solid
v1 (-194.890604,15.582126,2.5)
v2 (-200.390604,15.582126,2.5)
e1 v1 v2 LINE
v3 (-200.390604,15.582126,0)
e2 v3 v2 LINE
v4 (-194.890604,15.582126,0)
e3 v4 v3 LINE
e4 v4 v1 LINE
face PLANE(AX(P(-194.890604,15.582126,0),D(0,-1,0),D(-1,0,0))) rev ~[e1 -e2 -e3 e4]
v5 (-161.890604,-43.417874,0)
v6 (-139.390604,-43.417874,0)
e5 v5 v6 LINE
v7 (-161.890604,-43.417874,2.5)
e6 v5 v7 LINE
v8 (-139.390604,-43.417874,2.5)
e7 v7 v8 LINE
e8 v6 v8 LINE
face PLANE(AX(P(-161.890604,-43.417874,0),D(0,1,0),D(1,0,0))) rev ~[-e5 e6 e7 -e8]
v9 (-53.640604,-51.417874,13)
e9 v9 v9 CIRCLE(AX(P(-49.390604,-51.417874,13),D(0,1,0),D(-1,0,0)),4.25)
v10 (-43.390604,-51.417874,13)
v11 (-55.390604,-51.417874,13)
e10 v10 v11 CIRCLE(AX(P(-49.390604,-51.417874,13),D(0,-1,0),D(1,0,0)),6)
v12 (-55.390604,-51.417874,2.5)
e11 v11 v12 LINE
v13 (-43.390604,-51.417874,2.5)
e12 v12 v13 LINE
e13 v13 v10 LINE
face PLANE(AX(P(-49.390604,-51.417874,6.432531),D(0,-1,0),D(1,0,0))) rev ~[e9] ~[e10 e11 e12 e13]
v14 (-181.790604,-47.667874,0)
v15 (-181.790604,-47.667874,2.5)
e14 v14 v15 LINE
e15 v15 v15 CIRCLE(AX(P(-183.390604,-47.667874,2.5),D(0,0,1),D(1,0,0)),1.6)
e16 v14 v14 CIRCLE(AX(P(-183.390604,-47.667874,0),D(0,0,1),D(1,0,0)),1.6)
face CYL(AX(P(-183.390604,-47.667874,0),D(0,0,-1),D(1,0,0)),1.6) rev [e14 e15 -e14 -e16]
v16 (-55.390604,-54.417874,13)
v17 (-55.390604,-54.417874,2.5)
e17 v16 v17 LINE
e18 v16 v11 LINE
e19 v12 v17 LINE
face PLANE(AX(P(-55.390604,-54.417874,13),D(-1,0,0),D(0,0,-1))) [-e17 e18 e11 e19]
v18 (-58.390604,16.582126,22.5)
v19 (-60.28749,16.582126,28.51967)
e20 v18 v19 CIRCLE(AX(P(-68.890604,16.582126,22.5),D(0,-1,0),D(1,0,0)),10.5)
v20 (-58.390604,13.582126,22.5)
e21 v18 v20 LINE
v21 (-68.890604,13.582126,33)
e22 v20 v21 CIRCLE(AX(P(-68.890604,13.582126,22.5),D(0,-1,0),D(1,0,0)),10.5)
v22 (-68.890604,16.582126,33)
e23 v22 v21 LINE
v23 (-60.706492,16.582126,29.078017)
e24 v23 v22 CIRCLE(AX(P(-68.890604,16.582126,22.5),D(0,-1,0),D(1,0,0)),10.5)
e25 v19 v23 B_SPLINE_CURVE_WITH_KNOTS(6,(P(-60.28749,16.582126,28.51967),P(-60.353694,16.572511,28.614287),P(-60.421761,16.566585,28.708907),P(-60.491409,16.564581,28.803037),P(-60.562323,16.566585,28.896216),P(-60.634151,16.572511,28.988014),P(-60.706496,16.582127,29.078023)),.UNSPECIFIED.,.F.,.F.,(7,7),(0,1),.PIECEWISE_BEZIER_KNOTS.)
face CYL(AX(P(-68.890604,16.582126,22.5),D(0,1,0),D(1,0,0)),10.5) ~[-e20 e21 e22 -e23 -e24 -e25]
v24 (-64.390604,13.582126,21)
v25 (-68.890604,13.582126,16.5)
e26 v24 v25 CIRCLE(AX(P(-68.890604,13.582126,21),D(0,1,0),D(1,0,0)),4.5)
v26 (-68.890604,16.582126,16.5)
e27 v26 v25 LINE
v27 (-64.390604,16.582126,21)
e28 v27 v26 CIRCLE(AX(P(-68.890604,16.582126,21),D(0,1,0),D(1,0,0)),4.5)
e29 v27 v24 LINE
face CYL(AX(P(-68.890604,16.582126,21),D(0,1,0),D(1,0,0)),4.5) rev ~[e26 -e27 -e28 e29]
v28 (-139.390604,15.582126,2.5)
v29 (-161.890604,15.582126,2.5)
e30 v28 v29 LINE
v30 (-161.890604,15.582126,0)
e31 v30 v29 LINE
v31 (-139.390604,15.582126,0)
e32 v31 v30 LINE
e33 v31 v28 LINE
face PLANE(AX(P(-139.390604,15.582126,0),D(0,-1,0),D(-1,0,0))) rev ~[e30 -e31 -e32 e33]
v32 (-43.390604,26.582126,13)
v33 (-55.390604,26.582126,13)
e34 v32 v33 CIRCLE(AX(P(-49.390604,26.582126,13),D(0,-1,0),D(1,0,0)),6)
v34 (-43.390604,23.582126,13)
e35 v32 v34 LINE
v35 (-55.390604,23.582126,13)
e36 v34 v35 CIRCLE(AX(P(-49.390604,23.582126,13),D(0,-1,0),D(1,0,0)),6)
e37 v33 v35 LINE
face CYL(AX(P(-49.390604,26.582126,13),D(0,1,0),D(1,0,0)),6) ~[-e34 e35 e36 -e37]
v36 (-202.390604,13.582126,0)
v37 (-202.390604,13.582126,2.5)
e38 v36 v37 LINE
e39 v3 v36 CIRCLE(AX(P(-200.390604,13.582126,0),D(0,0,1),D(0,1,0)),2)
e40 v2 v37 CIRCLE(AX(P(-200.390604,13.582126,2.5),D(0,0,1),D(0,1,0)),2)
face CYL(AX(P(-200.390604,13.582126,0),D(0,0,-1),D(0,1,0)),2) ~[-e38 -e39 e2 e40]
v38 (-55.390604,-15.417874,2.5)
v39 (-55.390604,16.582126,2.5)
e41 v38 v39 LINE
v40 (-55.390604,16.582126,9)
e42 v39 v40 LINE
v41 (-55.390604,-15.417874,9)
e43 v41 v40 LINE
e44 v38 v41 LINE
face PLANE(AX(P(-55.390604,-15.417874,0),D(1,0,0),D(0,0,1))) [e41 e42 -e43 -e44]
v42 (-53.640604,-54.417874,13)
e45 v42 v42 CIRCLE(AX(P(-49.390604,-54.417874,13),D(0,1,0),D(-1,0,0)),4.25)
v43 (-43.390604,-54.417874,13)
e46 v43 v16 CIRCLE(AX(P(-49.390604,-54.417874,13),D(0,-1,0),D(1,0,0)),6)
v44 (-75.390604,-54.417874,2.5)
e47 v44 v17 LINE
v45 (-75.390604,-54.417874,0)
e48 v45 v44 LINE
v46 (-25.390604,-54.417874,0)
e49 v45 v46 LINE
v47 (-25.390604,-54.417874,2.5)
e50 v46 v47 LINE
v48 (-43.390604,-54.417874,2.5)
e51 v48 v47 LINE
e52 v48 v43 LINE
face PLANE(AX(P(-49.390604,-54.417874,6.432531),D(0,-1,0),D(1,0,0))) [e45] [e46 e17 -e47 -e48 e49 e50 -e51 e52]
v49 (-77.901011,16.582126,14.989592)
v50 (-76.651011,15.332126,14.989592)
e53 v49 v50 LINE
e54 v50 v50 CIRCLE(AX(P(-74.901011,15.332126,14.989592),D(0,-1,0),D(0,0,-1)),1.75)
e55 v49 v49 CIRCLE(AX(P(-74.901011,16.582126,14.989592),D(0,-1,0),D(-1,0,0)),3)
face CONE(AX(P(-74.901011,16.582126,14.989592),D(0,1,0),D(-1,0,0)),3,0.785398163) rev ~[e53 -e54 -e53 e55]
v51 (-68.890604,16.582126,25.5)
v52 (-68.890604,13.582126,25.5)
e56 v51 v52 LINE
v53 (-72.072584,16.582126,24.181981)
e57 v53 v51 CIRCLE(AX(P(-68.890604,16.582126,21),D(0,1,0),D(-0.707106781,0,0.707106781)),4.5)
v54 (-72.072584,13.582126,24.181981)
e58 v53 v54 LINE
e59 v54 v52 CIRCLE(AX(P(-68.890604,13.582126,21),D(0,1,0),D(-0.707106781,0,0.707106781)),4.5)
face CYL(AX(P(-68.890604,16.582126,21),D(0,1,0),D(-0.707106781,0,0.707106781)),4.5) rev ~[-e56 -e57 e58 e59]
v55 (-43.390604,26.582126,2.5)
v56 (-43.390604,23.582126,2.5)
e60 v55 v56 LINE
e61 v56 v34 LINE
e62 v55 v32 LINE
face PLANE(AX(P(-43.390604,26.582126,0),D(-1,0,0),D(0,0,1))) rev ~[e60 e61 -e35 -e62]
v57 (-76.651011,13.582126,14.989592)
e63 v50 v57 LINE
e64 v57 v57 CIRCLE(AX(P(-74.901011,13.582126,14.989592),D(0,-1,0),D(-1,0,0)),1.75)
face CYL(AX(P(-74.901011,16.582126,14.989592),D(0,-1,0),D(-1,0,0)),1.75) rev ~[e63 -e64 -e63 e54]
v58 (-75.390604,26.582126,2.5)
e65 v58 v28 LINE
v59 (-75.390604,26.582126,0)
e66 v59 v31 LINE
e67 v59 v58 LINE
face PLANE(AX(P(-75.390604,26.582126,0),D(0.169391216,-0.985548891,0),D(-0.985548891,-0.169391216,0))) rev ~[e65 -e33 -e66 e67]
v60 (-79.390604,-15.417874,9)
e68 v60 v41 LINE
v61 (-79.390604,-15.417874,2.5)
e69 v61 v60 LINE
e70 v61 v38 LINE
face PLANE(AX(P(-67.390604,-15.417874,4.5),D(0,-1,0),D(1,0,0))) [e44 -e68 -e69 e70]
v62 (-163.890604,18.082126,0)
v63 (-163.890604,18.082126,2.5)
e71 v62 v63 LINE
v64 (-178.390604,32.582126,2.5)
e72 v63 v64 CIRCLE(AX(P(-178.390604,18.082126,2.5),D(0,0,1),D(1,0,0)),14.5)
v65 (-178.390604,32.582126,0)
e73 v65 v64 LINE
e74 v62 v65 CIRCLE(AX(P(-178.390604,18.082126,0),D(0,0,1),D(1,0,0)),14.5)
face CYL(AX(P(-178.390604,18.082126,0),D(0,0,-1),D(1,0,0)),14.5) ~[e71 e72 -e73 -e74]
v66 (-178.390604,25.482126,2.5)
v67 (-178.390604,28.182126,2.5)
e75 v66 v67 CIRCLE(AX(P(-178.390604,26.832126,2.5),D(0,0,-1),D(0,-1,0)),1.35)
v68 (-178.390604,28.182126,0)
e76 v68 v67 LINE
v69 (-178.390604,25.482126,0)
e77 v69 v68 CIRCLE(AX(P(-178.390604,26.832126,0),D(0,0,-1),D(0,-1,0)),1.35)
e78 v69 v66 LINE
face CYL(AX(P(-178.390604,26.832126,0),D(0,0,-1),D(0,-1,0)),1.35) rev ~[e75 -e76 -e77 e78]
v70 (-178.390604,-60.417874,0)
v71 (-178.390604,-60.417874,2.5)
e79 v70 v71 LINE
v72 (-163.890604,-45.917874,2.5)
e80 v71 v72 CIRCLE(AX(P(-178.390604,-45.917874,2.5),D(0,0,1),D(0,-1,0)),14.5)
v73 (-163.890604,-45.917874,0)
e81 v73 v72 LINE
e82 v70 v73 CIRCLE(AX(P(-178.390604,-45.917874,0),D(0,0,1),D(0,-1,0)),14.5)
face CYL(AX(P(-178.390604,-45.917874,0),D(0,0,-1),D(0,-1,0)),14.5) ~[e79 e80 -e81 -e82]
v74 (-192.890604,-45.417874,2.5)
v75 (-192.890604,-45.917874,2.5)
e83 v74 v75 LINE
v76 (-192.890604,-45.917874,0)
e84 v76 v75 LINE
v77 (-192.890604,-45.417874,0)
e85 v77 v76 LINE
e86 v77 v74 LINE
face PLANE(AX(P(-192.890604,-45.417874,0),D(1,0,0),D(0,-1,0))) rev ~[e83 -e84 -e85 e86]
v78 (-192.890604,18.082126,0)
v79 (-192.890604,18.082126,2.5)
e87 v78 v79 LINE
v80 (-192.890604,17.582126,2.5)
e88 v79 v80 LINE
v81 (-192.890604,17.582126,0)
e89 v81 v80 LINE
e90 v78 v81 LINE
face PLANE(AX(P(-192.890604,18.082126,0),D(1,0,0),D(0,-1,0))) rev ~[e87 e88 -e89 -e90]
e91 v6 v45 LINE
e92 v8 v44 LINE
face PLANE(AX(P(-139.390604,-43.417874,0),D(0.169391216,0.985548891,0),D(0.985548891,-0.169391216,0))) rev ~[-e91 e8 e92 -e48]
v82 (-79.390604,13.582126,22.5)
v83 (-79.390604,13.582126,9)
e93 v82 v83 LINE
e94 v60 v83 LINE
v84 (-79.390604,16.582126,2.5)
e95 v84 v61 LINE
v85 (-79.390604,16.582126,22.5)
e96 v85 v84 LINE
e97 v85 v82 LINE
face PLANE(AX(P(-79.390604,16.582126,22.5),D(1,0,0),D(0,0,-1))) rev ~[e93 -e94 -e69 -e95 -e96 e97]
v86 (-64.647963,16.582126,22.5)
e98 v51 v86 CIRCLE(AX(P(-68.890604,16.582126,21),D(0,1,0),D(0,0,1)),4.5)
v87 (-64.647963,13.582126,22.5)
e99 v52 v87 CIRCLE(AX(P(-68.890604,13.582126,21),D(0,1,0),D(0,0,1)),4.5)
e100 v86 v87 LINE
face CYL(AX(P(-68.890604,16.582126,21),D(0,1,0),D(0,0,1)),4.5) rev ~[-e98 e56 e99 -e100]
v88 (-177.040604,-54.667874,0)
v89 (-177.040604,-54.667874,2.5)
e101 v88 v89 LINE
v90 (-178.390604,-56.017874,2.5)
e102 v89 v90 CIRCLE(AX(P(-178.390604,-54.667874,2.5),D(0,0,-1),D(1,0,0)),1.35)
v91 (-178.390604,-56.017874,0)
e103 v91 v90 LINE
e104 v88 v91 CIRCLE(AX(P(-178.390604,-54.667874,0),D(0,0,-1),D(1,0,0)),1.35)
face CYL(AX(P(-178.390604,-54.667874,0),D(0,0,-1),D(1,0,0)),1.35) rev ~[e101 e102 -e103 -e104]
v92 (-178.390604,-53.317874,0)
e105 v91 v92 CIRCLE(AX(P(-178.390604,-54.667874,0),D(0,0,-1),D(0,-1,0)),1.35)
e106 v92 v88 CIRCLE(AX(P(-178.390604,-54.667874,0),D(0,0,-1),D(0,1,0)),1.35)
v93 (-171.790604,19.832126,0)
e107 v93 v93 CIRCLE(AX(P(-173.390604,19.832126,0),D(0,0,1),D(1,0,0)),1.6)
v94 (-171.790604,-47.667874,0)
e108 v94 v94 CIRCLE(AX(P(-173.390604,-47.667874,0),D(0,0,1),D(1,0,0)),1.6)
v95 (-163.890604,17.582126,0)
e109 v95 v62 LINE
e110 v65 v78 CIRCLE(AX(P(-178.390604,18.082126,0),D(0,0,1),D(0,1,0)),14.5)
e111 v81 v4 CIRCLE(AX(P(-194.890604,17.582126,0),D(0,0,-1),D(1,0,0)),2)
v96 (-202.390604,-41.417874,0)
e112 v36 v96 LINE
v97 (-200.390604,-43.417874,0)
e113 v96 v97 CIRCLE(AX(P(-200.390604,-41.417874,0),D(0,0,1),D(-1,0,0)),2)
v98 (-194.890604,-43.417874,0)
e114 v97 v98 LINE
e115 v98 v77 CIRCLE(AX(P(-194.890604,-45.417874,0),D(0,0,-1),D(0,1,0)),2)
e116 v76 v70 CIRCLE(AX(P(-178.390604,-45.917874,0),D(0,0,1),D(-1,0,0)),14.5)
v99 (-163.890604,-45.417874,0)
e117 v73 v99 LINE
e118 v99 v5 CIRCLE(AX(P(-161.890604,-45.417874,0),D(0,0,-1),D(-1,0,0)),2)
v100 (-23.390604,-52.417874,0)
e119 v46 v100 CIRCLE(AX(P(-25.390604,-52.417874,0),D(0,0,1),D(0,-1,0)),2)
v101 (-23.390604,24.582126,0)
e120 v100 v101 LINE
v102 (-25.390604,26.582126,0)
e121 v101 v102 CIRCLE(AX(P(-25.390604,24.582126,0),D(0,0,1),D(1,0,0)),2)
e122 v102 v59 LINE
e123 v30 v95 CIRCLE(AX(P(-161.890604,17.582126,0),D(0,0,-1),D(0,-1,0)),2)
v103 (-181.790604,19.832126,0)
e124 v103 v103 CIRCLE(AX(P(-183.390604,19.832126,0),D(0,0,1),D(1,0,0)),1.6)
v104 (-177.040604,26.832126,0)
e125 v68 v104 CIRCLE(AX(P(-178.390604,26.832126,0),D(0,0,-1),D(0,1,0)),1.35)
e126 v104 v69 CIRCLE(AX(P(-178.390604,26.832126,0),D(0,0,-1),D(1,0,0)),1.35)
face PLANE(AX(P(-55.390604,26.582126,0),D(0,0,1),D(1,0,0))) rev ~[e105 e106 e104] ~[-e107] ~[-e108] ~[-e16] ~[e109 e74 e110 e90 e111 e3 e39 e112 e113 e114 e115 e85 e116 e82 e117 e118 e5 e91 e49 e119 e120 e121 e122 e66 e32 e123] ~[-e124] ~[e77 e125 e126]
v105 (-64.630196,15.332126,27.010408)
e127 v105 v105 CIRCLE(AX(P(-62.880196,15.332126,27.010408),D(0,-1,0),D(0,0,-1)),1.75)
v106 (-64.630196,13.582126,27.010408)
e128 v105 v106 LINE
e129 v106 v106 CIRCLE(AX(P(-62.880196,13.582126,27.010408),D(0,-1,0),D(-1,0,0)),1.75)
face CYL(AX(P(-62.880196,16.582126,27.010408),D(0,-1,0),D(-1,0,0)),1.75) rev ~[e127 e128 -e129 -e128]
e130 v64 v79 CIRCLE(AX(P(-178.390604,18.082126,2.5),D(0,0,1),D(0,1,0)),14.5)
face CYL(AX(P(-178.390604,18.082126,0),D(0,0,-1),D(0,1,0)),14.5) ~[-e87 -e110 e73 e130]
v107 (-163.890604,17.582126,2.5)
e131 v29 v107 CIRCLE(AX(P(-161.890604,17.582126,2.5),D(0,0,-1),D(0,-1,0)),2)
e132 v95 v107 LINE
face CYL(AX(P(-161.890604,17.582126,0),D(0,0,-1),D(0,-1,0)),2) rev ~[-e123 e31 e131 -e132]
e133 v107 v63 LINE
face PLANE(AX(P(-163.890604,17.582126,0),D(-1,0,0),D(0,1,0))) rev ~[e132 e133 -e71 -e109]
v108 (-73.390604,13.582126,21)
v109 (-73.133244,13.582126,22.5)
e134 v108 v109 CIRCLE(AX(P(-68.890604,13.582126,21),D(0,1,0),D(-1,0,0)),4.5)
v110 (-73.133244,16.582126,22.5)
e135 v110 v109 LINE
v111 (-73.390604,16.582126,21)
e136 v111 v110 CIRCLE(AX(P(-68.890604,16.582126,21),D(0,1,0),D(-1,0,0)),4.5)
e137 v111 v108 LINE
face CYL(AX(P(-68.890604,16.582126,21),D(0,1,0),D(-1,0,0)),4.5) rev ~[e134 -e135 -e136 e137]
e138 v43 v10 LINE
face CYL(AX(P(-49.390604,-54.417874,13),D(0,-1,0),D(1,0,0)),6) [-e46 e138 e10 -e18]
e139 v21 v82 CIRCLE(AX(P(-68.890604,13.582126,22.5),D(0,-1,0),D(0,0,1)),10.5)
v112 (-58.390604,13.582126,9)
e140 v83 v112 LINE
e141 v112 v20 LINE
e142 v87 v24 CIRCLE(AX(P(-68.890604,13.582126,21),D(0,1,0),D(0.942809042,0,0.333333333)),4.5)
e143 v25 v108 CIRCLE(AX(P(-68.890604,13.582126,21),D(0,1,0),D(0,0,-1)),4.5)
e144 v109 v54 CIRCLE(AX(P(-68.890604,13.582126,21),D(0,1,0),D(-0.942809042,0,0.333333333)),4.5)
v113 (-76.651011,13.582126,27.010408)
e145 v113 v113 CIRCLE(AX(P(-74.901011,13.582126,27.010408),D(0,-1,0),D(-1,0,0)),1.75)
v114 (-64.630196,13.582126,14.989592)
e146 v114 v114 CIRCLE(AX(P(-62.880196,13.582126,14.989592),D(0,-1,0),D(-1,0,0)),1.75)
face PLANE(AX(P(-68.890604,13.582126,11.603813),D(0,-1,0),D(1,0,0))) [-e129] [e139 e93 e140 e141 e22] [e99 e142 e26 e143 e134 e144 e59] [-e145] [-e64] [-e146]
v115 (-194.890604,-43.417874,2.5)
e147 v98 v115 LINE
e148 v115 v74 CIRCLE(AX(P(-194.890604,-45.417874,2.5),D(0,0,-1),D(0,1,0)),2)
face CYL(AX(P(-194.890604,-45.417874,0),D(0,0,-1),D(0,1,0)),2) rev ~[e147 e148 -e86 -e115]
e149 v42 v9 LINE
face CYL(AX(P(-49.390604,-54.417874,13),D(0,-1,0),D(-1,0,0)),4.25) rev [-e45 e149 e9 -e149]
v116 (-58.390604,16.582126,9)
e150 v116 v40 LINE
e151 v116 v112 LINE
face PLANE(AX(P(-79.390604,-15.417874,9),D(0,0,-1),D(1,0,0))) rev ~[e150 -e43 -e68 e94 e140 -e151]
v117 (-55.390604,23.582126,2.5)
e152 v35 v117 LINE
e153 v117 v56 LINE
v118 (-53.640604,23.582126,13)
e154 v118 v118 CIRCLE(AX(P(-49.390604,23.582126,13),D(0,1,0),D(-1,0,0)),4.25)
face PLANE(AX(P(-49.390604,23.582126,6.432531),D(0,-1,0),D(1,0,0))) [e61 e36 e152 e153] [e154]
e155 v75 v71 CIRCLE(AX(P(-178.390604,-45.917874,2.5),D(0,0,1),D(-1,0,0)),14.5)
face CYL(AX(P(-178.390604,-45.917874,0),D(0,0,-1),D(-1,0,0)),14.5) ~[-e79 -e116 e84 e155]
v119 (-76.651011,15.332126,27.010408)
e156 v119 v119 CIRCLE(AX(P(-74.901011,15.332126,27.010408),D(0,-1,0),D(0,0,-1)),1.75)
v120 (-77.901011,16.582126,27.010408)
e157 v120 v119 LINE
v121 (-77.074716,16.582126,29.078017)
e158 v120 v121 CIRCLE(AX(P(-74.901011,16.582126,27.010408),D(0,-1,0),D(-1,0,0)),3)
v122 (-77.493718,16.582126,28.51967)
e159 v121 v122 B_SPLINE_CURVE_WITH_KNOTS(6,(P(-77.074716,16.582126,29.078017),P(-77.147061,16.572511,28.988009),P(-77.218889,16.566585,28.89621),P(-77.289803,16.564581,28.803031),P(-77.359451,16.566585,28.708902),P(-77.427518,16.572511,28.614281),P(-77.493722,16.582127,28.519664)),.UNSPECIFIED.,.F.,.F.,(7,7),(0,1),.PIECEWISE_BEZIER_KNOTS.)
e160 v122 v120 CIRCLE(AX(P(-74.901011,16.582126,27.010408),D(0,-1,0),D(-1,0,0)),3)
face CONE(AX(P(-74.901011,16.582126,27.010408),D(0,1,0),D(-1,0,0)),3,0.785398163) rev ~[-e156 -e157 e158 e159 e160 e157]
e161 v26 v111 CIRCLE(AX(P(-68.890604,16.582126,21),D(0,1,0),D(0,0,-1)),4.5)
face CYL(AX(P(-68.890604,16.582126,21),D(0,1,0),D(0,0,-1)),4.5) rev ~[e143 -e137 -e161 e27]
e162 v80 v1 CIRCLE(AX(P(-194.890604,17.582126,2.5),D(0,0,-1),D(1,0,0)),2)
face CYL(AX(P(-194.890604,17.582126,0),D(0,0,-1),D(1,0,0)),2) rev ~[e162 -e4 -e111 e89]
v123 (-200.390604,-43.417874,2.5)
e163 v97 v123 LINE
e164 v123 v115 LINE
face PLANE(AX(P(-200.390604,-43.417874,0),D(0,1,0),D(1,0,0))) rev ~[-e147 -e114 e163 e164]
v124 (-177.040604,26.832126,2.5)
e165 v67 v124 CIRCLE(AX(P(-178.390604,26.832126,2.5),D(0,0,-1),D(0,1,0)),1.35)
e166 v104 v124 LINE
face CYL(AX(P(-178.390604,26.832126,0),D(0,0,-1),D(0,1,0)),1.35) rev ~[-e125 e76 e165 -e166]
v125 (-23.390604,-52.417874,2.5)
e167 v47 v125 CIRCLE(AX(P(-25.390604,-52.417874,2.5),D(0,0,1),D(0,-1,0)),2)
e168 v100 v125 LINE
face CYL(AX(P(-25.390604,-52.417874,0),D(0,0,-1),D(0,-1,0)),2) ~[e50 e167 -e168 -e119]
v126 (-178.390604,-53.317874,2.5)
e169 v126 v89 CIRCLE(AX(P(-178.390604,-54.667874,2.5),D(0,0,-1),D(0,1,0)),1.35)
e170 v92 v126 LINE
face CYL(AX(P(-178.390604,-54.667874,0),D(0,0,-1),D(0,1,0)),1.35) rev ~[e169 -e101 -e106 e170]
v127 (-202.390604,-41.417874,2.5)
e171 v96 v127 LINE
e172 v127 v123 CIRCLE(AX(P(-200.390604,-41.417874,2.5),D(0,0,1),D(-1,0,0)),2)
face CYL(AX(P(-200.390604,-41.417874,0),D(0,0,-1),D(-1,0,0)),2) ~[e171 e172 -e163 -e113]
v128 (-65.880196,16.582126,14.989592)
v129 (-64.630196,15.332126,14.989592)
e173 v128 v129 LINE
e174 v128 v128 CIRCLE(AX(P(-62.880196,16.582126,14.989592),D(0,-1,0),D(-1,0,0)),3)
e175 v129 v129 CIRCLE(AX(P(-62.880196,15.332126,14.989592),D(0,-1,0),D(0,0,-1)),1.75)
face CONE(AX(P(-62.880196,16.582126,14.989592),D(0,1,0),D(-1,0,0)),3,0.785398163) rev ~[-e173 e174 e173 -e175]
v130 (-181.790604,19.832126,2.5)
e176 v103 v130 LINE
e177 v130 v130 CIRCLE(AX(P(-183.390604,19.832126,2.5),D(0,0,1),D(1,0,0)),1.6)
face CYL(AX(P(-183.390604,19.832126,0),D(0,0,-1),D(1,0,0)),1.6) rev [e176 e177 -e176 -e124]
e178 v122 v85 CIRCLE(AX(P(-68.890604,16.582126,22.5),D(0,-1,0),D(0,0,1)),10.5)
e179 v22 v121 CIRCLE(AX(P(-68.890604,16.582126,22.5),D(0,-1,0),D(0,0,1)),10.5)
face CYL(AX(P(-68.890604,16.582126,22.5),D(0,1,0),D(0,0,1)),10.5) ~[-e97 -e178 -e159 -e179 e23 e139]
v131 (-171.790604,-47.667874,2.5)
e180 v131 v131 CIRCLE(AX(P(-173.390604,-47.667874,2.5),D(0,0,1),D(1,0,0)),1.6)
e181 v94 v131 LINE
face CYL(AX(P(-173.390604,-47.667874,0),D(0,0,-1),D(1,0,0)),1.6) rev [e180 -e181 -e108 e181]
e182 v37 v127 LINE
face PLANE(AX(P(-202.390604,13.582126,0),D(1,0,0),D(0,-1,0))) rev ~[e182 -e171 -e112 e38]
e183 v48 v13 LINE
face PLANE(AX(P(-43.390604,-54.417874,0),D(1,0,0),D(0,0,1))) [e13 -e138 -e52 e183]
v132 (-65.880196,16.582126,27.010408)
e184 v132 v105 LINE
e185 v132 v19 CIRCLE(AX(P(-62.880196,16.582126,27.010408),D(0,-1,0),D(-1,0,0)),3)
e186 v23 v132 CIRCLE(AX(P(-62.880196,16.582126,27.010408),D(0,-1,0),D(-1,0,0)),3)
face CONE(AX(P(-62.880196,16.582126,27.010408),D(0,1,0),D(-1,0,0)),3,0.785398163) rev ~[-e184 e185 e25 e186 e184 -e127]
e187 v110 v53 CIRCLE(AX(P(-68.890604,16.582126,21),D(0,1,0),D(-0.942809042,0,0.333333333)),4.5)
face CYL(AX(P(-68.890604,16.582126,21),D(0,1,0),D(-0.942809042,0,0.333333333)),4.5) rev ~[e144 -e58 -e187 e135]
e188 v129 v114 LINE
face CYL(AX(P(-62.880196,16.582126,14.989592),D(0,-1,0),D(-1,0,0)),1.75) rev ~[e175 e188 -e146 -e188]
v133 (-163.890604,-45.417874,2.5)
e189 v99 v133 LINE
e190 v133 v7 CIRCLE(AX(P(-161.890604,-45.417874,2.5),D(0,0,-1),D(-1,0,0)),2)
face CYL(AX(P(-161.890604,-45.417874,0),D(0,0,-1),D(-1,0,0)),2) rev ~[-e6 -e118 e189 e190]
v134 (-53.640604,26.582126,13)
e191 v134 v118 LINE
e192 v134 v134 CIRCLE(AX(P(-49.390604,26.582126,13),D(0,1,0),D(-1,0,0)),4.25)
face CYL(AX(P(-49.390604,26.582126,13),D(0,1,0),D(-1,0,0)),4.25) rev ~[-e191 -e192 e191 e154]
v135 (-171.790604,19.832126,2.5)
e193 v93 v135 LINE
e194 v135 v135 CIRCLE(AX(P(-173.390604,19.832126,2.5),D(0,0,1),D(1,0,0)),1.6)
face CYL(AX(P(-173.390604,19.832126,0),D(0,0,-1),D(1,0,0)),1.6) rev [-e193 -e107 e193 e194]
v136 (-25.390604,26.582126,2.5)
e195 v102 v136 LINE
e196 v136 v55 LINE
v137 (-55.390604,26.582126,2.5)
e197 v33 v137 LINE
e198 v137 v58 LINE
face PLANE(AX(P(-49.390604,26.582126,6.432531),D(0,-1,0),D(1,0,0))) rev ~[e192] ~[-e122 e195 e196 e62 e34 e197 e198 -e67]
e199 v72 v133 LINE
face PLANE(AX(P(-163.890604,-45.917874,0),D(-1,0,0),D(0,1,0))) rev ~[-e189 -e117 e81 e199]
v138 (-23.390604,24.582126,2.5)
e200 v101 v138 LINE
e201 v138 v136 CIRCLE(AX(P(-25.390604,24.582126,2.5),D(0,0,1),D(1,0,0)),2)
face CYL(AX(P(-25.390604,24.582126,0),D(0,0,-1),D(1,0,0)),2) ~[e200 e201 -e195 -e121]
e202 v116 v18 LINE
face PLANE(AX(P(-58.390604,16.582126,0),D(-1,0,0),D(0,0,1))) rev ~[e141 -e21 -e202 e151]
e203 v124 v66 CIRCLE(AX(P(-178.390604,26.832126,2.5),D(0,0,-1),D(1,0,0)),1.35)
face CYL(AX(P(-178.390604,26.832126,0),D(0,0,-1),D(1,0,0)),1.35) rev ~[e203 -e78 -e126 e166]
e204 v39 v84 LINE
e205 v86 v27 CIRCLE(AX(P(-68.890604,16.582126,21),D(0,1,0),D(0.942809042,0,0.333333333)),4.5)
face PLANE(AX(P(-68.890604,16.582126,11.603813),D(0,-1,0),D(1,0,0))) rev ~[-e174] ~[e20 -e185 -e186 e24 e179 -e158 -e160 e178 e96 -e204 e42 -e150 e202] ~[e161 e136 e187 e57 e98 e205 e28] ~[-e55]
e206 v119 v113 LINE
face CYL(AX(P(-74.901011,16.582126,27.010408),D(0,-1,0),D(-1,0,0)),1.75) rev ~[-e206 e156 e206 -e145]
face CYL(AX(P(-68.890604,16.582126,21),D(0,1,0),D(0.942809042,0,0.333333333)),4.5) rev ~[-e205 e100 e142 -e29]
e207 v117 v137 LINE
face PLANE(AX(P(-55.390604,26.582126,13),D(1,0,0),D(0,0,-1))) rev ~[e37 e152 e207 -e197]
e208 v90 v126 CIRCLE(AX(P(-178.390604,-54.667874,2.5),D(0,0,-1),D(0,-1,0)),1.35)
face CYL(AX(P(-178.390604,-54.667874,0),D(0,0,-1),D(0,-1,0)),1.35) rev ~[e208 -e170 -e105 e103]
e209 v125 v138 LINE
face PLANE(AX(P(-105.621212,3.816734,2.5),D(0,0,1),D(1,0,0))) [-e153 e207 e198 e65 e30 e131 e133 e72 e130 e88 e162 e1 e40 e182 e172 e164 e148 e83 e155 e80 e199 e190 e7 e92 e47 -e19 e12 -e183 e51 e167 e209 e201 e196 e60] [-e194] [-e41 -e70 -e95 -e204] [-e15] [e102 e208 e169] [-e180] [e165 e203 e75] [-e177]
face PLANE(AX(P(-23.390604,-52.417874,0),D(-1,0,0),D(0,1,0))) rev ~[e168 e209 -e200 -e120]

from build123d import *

# Parameters (mm, degrees)
F0_R            = 1.6
F0_W            = 12
F0_H            = 40.5
F0_W_2          = 20
F1_DEPTH        = 2.5
F7_DEPTH        = 3
F9_DEPTH        = 3
F11_DEPTH       = 3
F12_D           = 3.5
F12_CSINK_D     = 6
F12_CSINK_ANGLE = 90
F14_W           = 24
F14_H           = 9
F15_DEPTH       = 32


with BuildPart() as f1:
    # F0 (on Top) → F1 (new body)
    with BuildSketch(Plane.XY):
        Polygon((-139.390603765, 15.5821263526), (-139.390603765, -13.9178736474), (-75.390603765, -13.9178736474), (-75.390603765, 26.5821263526), align=None)
        with BuildLine():
            Line((-75.390603765, -13.9178736474), (-139.390603765, -13.9178736474))
            Line((-139.390603765, -13.9178736474), (-178.390603765, -13.9178736474))
            Line((-178.390603765, -13.9178736474), (-178.390603765, -53.3178736474))
            ThreePointArc((-178.390603765, -53.3178736474), (-177.4360096104, -53.7132794928), (-177.040603765, -54.6678736474))
            ThreePointArc((-177.040603765, -54.6678736474), (-177.4360096104, -55.622467802), (-178.390603765, -56.0178736474))
            Line((-178.390603765, -56.0178736474), (-178.390603765, -60.4178736474))
            ThreePointArc((-178.390603765, -60.4178736474), (-168.1375554378, -56.1709219746), (-163.890603765, -45.9178736474))
            Line((-163.890603765, -45.9178736474), (-163.890603765, -45.4178736474))
            ThreePointArc((-163.890603765, -45.4178736474), (-163.3048173273, -44.003660085), (-161.890603765, -43.4178736474))
            Line((-161.890603765, -43.4178736474), (-139.390603765, -43.4178736474))
            Line((-139.390603765, -43.4178736474), (-75.390603765, -54.4178736474))
            Line((-75.390603765, -54.4178736474), (-63.390603765, -54.4178736474))
            Line((-63.390603765, -54.4178736474), (-63.390603765, -13.9178736474))
            Line((-63.390603765, -13.9178736474), (-75.390603765, -13.9178736474))
        make_face()
        with Locations((-173.390603765, -47.6678736474)):
            Circle(F0_R, mode=Mode.SUBTRACT)
        with BuildLine():
            Line((-178.390603765, -13.9178736474), (-139.390603765, -13.9178736474))
            Line((-139.390603765, -13.9178736474), (-139.390603765, 15.5821263526))
            Line((-139.390603765, 15.5821263526), (-161.890603765, 15.5821263526))
            ThreePointArc((-161.890603765, 15.5821263526), (-163.3048173273, 16.1679127902), (-163.890603765, 17.5821263526))
            Line((-163.890603765, 17.5821263526), (-163.890603765, 18.0821263526))
            Line((-163.890603765, 18.0821263526), (-178.390603765, 18.0821263526))
            Line((-178.390603765, 18.0821263526), (-178.390603765, -13.9178736474))
        make_face()
        with Locations((-69.390603765, 6.3321263526)):
            Rectangle(F0_W, F0_H)
        with BuildLine():
            Line((-178.390603765, -53.3178736474), (-178.390603765, -13.9178736474))
            Line((-178.390603765, -13.9178736474), (-202.390603765, -13.9178736474))
            Line((-202.390603765, -13.9178736474), (-202.390603765, -41.4178736474))
            ThreePointArc((-202.390603765, -41.4178736474), (-201.8048173273, -42.8320872098), (-200.390603765, -43.4178736474))
            Line((-200.390603765, -43.4178736474), (-194.890603765, -43.4178736474))
            ThreePointArc((-194.890603765, -43.4178736474), (-193.4763902026, -44.003660085), (-192.890603765, -45.4178736474))
            Line((-192.890603765, -45.4178736474), (-192.890603765, -45.9178736474))
            ThreePointArc((-192.890603765, -45.9178736474), (-188.6436520922, -56.1709219746), (-178.390603765, -60.4178736474))
            Line((-178.390603765, -60.4178736474), (-178.390603765, -56.0178736474))
            ThreePointArc((-178.390603765, -56.0178736474), (-179.740603765, -54.6678736474), (-178.390603765, -53.3178736474))
        make_face()
        with Locations((-183.390603765, -47.6678736474)):
            Circle(F0_R, mode=Mode.SUBTRACT)
        with BuildLine():
            Line((-202.390603765, -13.9178736474), (-178.390603765, -13.9178736474))
            Line((-178.390603765, -13.9178736474), (-178.390603765, 18.0821263526))
            Line((-178.390603765, 18.0821263526), (-192.890603765, 18.0821263526))
            Line((-192.890603765, 18.0821263526), (-192.890603765, 17.5821263526))
            ThreePointArc((-192.890603765, 17.5821263526), (-193.4763902026, 16.1679127902), (-194.890603765, 15.5821263526))
            Line((-194.890603765, 15.5821263526), (-200.390603765, 15.5821263526))
            ThreePointArc((-200.390603765, 15.5821263526), (-201.8048173273, 14.996339915), (-202.390603765, 13.5821263526))
            Line((-202.390603765, 13.5821263526), (-202.390603765, -13.9178736474))
        make_face()
        with Locations((-53.390603765, 6.3321263526)):
            Rectangle(F0_W_2, F0_H)
        with Locations((-53.390603765, -34.1678736474)):
            Rectangle(F0_W_2, F0_H)
        with BuildLine():
            Line((-178.390603765, 25.4821263526), (-178.390603765, 18.0821263526))
            Line((-178.390603765, 18.0821263526), (-163.890603765, 18.0821263526))
            ThreePointArc((-163.890603765, 18.0821263526), (-168.1375554378, 28.3351746798), (-178.390603765, 32.5821263526))
            Line((-178.390603765, 32.5821263526), (-178.390603765, 28.1821263526))
            ThreePointArc((-178.390603765, 28.1821263526), (-177.4360096104, 27.7867205072), (-177.040603765, 26.8321263526))
            ThreePointArc((-177.040603765, 26.8321263526), (-177.4360096104, 25.877532198), (-178.390603765, 25.4821263526))
        make_face()
        with Locations((-173.390603765, 19.8321263526)):
            Circle(F0_R, mode=Mode.SUBTRACT)
        with BuildLine():
            Line((-192.890603765, 18.0821263526), (-178.390603765, 18.0821263526))
            Line((-178.390603765, 18.0821263526), (-178.390603765, 25.4821263526))
            ThreePointArc((-178.390603765, 25.4821263526), (-179.740603765, 26.8321263526), (-178.390603765, 28.1821263526))
            Line((-178.390603765, 28.1821263526), (-178.390603765, 32.5821263526))
            ThreePointArc((-178.390603765, 32.5821263526), (-188.6436520922, 28.3351746798), (-192.890603765, 18.0821263526))
        make_face()
        with Locations((-183.390603765, 19.8321263526)):
            Circle(F0_R, mode=Mode.SUBTRACT)
        with BuildLine():
            Line((-43.390603765, 26.5821263526), (-43.390603765, -13.9178736474))
            Line((-43.390603765, -13.9178736474), (-23.390603765, -13.9178736474))
            Line((-23.390603765, -13.9178736474), (-23.390603765, 24.5821263526))
            ThreePointArc((-23.390603765, 24.5821263526), (-23.9763902026, 25.996339915), (-25.390603765, 26.5821263526))
            Line((-25.390603765, 26.5821263526), (-43.390603765, 26.5821263526))
        make_face()
        with BuildLine():
            Line((-23.390603765, -13.9178736474), (-43.390603765, -13.9178736474))
            Line((-43.390603765, -13.9178736474), (-43.390603765, -54.4178736474))
            Line((-43.390603765, -54.4178736474), (-25.390603765, -54.4178736474))
            ThreePointArc((-25.390603765, -54.4178736474), (-23.9763902026, -53.8320872098), (-23.390603765, -52.4178736474))
            Line((-23.390603765, -52.4178736474), (-23.390603765, -13.9178736474))
        make_face()
    extrude(amount=F1_DEPTH)

    # F6 (on plane+point) → F7 (join)
    with BuildSketch(Plane.XZ.offset(54.4178736474)):
        with BuildLine():
            Line((-55.390603765, 13), (-55.390603765, 0))
            Line((-55.390603765, 0), (-43.390603765, 0))
            Line((-43.390603765, 0), (-43.390603765, 13))
            Line((-43.390603765, 13), (-45.140603765, 13))
            ThreePointArc((-45.140603765, 13), (-49.390603765, 8.75), (-53.640603765, 13))
            Line((-53.640603765, 13), (-55.390603765, 13))
        make_face()
        with BuildLine():
            ThreePointArc((-43.390603765, 13), (-49.390603765, 19), (-55.390603765, 13))
            Line((-55.390603765, 13), (-53.640603765, 13))
            ThreePointArc((-53.640603765, 13), (-49.390603765, 17.25), (-45.140603765, 13))
            Line((-45.140603765, 13), (-43.390603765, 13))
        make_face()
    extrude(amount=-F7_DEPTH)

    # F8 (on plane+point) → F9 (join)
    with BuildSketch(Plane.XZ.offset(-26.5821263526)):
        with BuildLine():
            Line((-55.390603765, 13), (-55.390603765, 0))
            Line((-55.390603765, 0), (-43.390603765, 0))
            Line((-43.390603765, 0), (-43.390603765, 13))
            Line((-43.390603765, 13), (-45.140603765, 13))
            ThreePointArc((-45.140603765, 13), (-49.390603765, 8.75), (-53.640603765, 13))
            Line((-53.640603765, 13), (-55.390603765, 13))
        make_face()
        with BuildLine():
            ThreePointArc((-43.390603765, 13), (-49.390603765, 19), (-55.390603765, 13))
            Line((-55.390603765, 13), (-53.640603765, 13))
            ThreePointArc((-53.640603765, 13), (-49.390603765, 17.25), (-45.140603765, 13))
            Line((-45.140603765, 13), (-43.390603765, 13))
        make_face()
    extrude(amount=F9_DEPTH)

    # F10 (on plane+point) → F11 (join)
    with BuildSketch(Plane.XZ.offset(-16.5821263526)):
        with BuildLine():
            Line((-79.390603765, 22.5), (-79.390603765, 0))
            Line((-79.390603765, 0), (-58.390603765, 0))
            Line((-58.390603765, 0), (-58.390603765, 22.5))
            Line((-58.390603765, 22.5), (-64.6479630778, 22.5))
            ThreePointArc((-64.6479630778, 22.5), (-64.4554102465, 21.7609589043), (-64.390603765, 21))
            ThreePointArc((-64.390603765, 21), (-65.7086232496, 17.8180194847), (-68.890603765, 16.5))
            ThreePointArc((-68.890603765, 16.5), (-72.0725842803, 17.8180194847), (-73.390603765, 21))
            ThreePointArc((-73.390603765, 21), (-73.3257972834, 21.7609589043), (-73.1332444521, 22.5))
            Line((-73.1332444521, 22.5), (-79.390603765, 22.5))
        make_face()
        with BuildLine():
            ThreePointArc((-68.890603765, 33), (-76.3152249674, 29.9246212025), (-79.390603765, 22.5))
            Line((-79.390603765, 22.5), (-73.1332444521, 22.5))
            ThreePointArc((-73.1332444521, 22.5), (-72.696981914, 23.4003094356), (-72.0725842803, 24.1819805153))
            ThreePointArc((-72.0725842803, 24.1819805153), (-70.6126792106, 25.1574578963), (-68.890603765, 25.5))
            Line((-68.890603765, 25.5), (-68.890603765, 33))
        make_face()
        with BuildLine():
            Line((-64.6479630778, 22.5), (-58.390603765, 22.5))
            ThreePointArc((-58.390603765, 22.5), (-61.4659825625, 29.9246212025), (-68.890603765, 33))
            Line((-68.890603765, 33), (-68.890603765, 25.5))
            ThreePointArc((-68.890603765, 25.5), (-66.2925275536, 24.6742346142), (-64.6479630778, 22.5))
        make_face()
    extrude(amount=F11_DEPTH)

    # F12 (through all)
    with Locations(Plane(origin=(0, 16.5821263526, 0), x_dir=(1, 0, 0), z_dir=(0, 1, 0))):
        with Locations((-74.901011405, -27.0104076401), (-62.8801961249, -27.0104076401), (-62.8801961249, -14.9895923599), (-74.901011405, -14.9895923599)):
            CounterSinkHole(F12_D / 2, F12_CSINK_D / 2, counter_sink_angle=F12_CSINK_ANGLE)

    # F14 (on plane+point) → F15 (join)
    with BuildSketch(Plane.XZ.offset(15.4178736474)):
        with Locations((-67.390603765, 4.5)):
            Rectangle(F14_W, F14_H)
    extrude(amount=-F15_DEPTH)


solid = f1.part
